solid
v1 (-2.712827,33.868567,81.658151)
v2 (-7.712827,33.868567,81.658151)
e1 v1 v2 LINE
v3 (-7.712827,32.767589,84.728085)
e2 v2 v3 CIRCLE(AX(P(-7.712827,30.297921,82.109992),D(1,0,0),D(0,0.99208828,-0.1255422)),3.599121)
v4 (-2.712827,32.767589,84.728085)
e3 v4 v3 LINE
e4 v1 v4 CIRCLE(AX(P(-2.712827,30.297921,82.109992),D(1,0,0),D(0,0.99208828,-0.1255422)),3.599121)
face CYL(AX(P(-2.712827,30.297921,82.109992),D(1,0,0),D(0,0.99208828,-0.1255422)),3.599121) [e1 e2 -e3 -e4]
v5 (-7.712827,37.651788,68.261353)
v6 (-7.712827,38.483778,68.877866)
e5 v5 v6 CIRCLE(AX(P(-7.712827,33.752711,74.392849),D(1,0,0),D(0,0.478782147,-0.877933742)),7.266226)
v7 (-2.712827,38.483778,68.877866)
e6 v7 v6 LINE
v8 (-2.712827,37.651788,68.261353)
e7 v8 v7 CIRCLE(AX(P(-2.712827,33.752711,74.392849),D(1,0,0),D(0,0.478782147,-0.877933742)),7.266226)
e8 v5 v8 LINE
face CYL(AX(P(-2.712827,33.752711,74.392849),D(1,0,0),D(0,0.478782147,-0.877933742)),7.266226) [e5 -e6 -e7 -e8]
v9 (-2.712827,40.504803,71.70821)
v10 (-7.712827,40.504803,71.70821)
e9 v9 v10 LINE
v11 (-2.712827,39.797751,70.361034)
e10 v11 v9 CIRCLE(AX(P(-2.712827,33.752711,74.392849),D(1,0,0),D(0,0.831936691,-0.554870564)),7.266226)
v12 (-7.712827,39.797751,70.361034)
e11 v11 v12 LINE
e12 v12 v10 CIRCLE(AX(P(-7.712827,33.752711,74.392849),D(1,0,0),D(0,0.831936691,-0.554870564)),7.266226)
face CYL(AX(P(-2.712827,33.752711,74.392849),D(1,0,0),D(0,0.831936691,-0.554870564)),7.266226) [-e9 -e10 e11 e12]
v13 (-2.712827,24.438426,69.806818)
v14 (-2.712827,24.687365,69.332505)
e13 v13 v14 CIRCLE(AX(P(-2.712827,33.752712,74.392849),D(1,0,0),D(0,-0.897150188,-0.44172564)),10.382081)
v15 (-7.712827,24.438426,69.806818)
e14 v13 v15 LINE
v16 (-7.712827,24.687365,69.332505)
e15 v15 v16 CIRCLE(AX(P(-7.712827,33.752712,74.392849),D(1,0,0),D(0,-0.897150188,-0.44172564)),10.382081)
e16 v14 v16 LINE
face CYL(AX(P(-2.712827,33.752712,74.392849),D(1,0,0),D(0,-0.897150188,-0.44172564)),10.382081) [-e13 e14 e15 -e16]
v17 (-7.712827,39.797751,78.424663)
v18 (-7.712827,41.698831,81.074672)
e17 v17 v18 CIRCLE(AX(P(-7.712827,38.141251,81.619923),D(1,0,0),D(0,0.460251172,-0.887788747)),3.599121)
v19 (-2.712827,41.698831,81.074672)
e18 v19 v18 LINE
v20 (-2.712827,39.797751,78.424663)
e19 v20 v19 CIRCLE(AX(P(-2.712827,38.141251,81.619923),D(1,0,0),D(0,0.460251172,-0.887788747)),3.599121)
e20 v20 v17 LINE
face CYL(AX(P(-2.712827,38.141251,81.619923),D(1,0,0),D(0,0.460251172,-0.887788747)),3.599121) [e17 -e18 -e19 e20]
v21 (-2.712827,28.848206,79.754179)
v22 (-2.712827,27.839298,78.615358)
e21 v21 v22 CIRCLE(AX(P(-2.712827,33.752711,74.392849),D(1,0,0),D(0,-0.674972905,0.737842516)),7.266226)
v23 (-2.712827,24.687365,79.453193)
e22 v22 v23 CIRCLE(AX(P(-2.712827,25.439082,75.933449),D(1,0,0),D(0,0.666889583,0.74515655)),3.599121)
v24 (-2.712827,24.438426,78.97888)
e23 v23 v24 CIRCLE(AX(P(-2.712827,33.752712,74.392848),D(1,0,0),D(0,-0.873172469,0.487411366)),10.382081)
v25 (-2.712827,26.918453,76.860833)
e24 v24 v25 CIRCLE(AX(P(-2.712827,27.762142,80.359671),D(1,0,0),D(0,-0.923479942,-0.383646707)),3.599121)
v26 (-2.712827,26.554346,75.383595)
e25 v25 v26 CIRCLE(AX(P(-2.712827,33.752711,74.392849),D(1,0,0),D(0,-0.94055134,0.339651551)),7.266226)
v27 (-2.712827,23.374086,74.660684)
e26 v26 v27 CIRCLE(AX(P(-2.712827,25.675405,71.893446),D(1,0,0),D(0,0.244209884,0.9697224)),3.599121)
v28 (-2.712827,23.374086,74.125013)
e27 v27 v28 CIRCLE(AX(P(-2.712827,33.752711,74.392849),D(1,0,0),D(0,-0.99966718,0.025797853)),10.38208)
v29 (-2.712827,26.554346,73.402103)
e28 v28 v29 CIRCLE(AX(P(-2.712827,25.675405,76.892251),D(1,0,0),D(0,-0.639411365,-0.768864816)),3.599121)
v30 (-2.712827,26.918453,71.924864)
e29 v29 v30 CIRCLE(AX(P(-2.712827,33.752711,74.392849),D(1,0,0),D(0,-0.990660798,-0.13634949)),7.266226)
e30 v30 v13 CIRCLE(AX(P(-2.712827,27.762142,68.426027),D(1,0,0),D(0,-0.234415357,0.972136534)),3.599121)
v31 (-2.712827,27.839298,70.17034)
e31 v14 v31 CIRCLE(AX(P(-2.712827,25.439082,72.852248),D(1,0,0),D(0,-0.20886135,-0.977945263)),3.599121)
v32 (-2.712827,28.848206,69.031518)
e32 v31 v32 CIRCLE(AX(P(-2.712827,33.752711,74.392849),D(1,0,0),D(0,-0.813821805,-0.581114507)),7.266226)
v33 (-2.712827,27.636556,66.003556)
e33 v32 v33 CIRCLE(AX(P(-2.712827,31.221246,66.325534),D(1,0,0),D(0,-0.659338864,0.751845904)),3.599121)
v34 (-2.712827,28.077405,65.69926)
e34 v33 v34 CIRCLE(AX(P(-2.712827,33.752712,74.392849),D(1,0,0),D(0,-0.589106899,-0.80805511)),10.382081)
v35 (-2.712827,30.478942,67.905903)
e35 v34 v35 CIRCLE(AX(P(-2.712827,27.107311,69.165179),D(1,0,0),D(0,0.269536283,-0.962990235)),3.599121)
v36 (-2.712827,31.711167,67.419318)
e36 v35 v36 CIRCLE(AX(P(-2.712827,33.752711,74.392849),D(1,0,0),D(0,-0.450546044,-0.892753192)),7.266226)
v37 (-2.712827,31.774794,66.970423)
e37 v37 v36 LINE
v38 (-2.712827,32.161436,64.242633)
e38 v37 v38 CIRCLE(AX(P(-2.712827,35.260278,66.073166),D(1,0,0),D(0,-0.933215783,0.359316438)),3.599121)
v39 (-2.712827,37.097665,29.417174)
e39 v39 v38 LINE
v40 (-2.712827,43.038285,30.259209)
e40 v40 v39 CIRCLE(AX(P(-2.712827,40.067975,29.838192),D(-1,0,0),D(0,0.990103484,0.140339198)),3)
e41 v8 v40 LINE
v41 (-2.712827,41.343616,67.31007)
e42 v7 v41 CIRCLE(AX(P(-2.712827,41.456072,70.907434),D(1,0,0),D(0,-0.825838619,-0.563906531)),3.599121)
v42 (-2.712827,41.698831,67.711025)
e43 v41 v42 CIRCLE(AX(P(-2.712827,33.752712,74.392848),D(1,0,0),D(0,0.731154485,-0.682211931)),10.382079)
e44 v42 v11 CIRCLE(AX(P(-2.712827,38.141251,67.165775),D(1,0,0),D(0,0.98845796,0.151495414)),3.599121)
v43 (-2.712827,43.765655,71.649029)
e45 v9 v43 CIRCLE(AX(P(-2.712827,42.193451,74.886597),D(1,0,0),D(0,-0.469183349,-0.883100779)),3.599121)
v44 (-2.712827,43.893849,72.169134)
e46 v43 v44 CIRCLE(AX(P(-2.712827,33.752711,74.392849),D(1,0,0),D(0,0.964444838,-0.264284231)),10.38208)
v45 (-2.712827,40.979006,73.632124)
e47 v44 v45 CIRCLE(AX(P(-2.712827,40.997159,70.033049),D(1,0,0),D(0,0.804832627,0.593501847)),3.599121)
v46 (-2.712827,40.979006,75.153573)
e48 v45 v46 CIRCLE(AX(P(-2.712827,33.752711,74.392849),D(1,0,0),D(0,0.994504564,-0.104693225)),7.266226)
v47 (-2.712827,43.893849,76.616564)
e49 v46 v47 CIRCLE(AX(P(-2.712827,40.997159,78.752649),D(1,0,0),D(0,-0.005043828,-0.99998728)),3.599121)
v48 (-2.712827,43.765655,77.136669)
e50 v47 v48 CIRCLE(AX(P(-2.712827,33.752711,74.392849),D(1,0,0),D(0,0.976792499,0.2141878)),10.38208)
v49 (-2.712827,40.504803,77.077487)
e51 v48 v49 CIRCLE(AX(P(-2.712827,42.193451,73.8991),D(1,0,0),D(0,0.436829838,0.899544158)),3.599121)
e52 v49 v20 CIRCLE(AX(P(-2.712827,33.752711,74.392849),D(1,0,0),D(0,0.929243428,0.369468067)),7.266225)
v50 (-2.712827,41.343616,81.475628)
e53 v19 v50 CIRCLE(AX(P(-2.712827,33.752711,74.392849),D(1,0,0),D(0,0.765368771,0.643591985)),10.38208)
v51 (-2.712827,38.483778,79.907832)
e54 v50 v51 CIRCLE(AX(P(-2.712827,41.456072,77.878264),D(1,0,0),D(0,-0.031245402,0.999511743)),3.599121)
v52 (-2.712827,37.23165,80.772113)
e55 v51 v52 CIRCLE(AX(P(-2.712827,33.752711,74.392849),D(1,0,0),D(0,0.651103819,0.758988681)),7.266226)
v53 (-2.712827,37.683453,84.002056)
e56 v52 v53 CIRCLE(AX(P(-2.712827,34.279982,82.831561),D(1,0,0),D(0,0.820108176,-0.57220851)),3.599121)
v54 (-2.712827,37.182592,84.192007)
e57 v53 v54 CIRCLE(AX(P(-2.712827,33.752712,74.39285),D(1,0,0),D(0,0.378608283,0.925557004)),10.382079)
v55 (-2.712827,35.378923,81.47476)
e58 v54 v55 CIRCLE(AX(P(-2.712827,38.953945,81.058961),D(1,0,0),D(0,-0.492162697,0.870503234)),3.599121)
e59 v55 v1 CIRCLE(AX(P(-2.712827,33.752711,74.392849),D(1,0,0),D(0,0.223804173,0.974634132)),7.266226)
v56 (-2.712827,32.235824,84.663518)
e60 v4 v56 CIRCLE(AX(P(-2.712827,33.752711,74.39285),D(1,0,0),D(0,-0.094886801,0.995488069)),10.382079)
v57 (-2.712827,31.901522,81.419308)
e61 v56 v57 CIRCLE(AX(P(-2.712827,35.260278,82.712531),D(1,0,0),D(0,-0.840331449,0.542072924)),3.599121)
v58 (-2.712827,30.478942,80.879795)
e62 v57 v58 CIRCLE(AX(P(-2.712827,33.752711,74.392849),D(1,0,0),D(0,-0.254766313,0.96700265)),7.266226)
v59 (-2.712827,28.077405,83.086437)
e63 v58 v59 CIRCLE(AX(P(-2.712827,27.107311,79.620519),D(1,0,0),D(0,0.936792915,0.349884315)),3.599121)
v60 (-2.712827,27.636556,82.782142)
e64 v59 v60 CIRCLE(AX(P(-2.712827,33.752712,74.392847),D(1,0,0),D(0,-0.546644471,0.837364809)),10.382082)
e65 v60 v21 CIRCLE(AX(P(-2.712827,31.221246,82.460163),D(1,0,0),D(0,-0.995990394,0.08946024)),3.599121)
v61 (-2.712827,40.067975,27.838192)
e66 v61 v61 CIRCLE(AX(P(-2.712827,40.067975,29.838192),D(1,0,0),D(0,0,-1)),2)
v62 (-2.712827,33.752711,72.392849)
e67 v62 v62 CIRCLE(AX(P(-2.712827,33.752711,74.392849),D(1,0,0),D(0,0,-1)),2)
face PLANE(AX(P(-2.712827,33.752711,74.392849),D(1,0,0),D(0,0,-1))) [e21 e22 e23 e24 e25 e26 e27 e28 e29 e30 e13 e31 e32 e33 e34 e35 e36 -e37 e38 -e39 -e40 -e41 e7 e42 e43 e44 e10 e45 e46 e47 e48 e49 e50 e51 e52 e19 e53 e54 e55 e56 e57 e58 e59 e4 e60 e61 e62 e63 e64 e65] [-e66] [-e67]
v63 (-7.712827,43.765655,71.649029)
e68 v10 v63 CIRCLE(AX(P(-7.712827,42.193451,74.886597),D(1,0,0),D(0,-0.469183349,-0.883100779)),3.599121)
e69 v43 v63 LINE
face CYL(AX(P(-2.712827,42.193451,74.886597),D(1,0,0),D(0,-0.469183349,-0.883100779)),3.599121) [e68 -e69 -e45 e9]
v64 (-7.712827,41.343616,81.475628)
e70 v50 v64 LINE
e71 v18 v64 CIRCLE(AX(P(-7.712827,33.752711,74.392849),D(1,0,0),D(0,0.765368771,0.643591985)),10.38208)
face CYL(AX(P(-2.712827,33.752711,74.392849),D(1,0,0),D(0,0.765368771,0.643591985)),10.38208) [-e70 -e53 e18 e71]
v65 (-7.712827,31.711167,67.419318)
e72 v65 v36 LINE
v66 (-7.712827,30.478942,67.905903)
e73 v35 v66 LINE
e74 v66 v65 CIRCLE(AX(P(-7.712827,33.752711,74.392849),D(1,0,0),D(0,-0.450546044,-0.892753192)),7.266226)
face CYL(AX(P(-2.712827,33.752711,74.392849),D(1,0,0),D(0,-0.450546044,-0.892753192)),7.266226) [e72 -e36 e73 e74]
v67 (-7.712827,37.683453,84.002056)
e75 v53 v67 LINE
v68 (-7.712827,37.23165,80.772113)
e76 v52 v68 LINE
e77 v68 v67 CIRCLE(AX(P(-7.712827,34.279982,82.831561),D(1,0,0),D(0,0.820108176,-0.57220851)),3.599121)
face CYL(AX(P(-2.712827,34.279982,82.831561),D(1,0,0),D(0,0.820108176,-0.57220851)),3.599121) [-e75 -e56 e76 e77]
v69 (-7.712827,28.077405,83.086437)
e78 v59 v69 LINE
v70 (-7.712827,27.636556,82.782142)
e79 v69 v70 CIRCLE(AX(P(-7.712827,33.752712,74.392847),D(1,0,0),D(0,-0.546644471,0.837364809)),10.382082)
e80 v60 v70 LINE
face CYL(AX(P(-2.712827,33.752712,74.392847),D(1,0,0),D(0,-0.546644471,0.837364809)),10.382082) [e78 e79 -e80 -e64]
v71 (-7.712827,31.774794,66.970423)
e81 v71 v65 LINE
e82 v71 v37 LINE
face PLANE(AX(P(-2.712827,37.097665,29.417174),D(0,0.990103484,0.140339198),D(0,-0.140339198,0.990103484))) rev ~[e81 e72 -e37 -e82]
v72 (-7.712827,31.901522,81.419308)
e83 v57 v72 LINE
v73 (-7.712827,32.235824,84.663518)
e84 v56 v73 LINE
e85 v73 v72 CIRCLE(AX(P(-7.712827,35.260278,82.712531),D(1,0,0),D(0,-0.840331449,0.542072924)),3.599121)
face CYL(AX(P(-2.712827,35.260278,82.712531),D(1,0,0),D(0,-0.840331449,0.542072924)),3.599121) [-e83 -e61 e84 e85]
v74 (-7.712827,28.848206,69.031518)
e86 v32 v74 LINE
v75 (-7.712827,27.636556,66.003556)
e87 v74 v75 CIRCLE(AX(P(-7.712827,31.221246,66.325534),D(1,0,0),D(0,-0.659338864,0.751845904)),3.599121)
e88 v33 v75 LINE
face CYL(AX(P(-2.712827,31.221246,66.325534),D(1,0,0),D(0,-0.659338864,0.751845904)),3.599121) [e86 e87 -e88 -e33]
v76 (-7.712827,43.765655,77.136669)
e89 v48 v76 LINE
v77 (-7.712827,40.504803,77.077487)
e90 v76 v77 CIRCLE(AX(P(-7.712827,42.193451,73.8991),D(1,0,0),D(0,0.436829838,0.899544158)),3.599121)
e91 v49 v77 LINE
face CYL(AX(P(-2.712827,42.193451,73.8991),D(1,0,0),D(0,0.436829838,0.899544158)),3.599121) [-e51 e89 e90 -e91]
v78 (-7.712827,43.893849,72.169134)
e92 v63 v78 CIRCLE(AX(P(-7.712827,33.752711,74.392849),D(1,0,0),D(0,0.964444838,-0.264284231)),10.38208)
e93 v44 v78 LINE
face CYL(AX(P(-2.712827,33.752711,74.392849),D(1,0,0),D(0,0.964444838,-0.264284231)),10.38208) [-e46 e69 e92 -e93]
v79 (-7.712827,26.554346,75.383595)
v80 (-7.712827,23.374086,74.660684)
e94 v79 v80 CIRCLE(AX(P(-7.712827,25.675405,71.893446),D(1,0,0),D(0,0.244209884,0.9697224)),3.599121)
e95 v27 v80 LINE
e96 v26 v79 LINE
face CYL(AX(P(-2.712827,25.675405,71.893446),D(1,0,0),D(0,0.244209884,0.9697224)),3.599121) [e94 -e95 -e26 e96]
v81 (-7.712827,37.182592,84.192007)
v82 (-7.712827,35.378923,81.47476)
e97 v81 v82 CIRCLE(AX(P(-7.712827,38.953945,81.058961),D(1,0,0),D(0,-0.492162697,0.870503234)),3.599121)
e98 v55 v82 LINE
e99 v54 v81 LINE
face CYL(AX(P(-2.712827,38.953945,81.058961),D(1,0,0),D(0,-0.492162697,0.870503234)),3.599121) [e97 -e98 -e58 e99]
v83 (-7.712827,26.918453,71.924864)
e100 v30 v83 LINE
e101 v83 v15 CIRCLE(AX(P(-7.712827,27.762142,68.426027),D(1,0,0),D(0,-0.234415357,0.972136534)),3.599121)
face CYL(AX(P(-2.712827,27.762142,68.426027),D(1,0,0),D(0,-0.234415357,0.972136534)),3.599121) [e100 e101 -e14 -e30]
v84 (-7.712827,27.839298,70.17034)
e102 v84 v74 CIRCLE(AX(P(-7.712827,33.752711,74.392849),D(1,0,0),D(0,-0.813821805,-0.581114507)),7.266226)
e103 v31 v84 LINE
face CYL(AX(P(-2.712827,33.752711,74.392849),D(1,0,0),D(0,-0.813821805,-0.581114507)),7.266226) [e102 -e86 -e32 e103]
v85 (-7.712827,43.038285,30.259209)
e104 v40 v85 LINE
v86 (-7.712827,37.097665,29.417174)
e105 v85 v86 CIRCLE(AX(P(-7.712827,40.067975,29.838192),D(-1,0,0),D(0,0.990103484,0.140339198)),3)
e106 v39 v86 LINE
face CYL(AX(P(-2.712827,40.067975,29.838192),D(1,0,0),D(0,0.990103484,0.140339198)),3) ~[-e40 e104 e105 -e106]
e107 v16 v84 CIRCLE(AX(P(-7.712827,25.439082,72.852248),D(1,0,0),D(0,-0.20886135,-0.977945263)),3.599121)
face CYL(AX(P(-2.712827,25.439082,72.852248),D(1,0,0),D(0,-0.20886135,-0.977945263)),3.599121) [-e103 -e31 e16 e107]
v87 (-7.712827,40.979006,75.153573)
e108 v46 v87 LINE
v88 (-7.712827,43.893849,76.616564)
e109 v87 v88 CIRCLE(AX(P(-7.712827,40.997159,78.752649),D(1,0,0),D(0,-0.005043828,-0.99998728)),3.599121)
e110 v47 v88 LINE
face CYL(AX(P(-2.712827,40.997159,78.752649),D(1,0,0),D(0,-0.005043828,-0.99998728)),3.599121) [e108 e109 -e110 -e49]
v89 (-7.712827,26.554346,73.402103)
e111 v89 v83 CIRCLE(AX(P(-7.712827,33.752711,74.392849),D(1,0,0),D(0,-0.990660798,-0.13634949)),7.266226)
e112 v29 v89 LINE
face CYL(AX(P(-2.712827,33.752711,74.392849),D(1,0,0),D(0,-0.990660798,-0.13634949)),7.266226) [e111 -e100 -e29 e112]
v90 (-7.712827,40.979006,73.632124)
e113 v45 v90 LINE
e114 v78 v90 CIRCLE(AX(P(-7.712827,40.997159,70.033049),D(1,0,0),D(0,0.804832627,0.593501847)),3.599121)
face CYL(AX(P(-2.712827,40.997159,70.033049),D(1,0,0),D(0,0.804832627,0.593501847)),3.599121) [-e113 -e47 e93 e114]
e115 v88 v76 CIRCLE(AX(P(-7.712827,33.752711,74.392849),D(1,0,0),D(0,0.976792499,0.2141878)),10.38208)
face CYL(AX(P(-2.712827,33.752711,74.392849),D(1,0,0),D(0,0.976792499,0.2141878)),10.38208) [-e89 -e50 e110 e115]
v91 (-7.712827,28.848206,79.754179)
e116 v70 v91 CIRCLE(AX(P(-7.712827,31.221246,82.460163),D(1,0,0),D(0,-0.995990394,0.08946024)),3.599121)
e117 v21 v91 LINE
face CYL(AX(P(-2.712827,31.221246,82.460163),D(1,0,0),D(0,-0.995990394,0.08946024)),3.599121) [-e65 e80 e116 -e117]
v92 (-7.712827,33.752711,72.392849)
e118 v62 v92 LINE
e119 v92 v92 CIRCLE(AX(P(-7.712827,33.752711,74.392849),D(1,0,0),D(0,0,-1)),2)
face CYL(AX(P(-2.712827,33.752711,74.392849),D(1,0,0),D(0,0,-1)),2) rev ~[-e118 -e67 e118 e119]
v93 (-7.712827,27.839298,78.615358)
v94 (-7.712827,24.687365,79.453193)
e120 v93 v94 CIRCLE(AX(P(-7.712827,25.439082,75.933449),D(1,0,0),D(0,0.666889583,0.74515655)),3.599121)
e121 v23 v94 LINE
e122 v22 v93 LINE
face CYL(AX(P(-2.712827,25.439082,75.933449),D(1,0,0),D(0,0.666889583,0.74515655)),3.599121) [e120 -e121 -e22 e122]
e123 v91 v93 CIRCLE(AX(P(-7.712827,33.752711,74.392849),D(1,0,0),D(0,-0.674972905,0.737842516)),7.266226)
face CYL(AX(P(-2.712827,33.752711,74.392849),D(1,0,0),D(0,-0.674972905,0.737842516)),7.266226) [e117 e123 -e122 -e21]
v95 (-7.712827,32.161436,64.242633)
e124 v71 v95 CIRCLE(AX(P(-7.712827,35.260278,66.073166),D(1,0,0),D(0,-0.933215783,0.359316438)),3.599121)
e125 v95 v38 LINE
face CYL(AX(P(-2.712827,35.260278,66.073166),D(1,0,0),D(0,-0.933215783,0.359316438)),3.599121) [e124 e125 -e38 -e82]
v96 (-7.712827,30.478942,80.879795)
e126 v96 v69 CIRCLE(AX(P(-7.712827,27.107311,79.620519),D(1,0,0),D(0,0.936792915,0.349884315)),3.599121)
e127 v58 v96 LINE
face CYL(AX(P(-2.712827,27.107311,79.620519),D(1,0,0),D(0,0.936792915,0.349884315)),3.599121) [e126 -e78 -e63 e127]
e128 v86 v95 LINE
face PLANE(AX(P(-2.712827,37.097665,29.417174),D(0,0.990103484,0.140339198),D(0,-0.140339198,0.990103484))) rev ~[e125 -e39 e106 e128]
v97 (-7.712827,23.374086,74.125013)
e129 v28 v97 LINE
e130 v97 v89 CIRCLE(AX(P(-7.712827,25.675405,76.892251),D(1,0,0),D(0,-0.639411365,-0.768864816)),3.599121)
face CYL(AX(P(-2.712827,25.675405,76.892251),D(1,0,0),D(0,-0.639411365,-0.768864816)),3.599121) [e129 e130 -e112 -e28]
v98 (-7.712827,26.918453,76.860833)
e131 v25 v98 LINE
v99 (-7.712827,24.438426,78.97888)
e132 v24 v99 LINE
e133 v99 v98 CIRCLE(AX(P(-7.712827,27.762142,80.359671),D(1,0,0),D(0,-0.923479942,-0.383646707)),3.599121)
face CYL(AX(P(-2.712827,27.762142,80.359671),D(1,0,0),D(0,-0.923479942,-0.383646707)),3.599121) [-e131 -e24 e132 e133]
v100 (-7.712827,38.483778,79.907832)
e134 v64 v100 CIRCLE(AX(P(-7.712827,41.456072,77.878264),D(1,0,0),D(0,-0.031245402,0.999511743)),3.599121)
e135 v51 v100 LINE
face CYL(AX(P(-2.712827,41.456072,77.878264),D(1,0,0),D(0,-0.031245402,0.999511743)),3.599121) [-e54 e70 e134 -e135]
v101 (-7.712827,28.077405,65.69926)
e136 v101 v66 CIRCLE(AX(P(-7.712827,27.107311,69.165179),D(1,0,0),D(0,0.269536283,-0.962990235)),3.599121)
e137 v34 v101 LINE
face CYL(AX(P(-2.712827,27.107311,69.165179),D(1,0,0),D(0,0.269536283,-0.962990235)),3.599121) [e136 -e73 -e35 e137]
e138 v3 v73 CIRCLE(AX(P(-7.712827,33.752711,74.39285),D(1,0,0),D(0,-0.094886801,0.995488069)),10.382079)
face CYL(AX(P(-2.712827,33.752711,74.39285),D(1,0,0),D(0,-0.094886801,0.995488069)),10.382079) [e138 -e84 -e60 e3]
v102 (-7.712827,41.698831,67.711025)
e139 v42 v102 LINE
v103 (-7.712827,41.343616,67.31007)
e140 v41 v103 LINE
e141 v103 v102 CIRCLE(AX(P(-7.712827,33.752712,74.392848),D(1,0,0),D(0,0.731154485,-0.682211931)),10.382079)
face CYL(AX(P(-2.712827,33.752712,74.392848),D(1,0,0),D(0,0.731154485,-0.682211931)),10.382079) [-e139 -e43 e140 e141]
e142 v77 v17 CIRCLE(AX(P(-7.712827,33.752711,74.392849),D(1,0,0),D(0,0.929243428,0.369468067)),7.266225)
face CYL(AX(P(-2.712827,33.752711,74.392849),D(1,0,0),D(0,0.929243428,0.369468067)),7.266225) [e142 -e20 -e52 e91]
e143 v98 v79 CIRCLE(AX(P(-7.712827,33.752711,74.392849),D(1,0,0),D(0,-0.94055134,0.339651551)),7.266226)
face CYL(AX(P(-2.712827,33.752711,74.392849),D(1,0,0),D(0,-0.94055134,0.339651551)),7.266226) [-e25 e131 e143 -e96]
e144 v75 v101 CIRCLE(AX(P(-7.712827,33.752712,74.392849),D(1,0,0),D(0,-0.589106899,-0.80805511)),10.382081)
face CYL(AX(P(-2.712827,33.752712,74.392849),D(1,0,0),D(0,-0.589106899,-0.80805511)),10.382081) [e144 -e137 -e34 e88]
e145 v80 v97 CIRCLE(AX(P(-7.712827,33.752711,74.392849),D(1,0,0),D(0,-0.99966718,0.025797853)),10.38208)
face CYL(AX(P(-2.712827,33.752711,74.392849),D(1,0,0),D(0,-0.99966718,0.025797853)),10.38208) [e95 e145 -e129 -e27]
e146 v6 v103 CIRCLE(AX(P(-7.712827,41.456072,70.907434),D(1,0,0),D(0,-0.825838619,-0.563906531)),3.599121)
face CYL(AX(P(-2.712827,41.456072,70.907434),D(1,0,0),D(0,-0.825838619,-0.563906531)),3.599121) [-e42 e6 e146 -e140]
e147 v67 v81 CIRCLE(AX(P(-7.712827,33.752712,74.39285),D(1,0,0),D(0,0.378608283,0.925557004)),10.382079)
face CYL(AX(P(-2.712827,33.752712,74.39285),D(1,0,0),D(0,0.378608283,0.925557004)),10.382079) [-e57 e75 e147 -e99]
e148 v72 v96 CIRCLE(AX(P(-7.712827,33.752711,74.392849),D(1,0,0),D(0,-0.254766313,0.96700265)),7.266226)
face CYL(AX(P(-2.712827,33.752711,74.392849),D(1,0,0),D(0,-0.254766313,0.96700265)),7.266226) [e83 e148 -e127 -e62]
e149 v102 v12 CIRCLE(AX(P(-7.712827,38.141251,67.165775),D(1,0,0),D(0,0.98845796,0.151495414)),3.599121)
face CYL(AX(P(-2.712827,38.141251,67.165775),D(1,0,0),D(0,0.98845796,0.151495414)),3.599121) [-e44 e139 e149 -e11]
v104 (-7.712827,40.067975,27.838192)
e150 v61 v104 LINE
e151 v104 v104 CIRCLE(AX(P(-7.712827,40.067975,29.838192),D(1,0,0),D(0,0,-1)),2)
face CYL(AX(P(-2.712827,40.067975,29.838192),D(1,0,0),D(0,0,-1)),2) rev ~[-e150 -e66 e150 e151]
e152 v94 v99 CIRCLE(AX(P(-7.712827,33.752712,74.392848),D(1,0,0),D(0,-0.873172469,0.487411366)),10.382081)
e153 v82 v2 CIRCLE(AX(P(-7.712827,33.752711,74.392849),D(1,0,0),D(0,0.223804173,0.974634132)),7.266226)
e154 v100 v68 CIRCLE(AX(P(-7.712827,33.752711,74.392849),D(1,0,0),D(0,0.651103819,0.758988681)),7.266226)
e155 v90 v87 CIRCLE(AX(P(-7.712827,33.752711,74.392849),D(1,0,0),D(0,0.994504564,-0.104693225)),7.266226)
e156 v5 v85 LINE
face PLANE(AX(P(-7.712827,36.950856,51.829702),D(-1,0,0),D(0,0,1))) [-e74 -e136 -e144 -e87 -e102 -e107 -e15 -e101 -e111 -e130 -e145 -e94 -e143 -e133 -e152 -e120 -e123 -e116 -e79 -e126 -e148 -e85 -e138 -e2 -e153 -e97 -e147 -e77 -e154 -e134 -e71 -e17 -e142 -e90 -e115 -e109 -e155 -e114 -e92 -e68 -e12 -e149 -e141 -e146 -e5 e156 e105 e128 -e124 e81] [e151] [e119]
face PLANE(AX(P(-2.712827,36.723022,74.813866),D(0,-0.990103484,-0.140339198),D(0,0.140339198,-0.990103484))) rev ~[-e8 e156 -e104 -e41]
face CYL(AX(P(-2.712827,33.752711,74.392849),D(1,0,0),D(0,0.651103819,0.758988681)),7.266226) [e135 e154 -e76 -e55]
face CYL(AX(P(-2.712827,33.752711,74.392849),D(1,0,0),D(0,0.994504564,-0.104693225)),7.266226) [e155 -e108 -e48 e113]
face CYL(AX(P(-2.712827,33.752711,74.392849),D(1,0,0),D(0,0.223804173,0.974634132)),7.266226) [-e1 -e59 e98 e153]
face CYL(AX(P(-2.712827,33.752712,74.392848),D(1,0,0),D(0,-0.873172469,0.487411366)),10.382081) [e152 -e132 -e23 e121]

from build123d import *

# Parameters (mm, degrees)
SKETCH1_R           = 2
BOSS_EXTRUDE1_DEPTH = 5
SKETCH2_R           = 2
BOSS_EXTRUDE2_DEPTH = 5


with BuildPart() as part:
    # Sketch1 → Boss-Extrude1 (new body)
    with BuildSketch(Plane(origin=(-2.712826585, 0, 0), x_dir=(0, 0, -1), z_dir=(1, 0, 0))):
        with BuildLine():
            ThreePointArc((-81.47562753, 41.343615563), (-81.034251259, 39.725922602), (-79.907831624, 38.483778355))
            ThreePointArc((-79.907831624, 38.483778355), (-80.372835078, 37.880397724), (-80.772113271, 37.231650221))
            ThreePointArc((-80.772113271, 37.231650221), (-82.332972226, 37.844400456), (-84.002055602, 37.683452608))
            ThreePointArc((-84.002055602, 37.683452608), (-84.100262161, 37.43424746), (-84.192007076, 37.182591734))
            ThreePointArc((-84.192007076, 37.182591734), (-83.049408394, 35.955313535), (-81.474760125, 35.378922733))
            ThreePointArc((-81.474760125, 35.378922733), (-81.606095275, 34.628557837), (-81.65815056, 33.868566623))
            ThreePointArc((-81.65815056, 33.868566623), (-83.324981759, 33.685762686), (-84.728085497, 32.767588723))
            ThreePointArc((-84.728085497, 32.767588723), (-84.69923168, 32.50128966), (-84.663517521, 32.235823593))
            ThreePointArc((-84.663517521, 32.235823593), (-83.081452015, 31.6801148), (-81.419308055, 31.901521629))
            ThreePointArc((-81.419308055, 31.901521629), (-81.1868876, 31.176072024), (-80.879794738, 30.478941927))
            ThreePointArc((-80.879794738, 30.478941927), (-82.270747242, 29.542461997), (-83.086437186, 28.077404509))
            ThreePointArc((-83.086437186, 28.077404509), (-82.937133053, 27.855017437), (-82.782141503, 27.636556105))
            ThreePointArc((-82.782141503, 27.636556105), (-81.123041315, 27.879722907), (-79.754178815, 28.848205731))
            ThreePointArc((-79.754178815, 28.848205731), (-79.211247481, 28.313863177), (-78.615357745, 27.839298301))
            ThreePointArc((-78.615357745, 27.839298301), (-79.411781098, 26.363678645), (-79.45319251, 24.687364646))
            ThreePointArc((-79.45319251, 24.687364646), (-79.217641841, 24.559835763), (-78.978879596, 24.438426025))
            ThreePointArc((-78.978879596, 24.438426025), (-77.622824585, 25.424761837), (-76.860833445, 26.918452913))
            ThreePointArc((-76.860833445, 26.918452913), (-76.131770258, 26.697628851), (-75.383594806, 26.55434629))
            ThreePointArc((-75.383594806, 26.55434629), (-75.403038015, 24.877633587), (-74.660684041, 23.374086413))
            ThreePointArc((-74.660684041, 23.374086413), (-74.392848655, 23.370631049), (-74.125013268, 23.374086413))
            ThreePointArc((-74.125013268, 23.374086413), (-73.382659294, 24.877633587), (-73.402102503, 26.55434629))
            ThreePointArc((-73.402102503, 26.55434629), (-72.653927052, 26.697628851), (-71.924863864, 26.918452913))
            ThreePointArc((-71.924863864, 26.918452913), (-71.162872724, 25.424761837), (-69.806817713, 24.438426025))
            ThreePointArc((-69.806817713, 24.438426025), (-69.568055468, 24.559835763), (-69.332504799, 24.687364646))
            ThreePointArc((-69.332504799, 24.687364646), (-69.373916212, 26.363678645), (-70.170339564, 27.839298301))
            ThreePointArc((-70.170339564, 27.839298301), (-69.574449829, 28.313863177), (-69.031518494, 28.848205731))
            ThreePointArc((-69.031518494, 28.848205731), (-67.662655994, 27.879722907), (-66.003555806, 27.636556105))
            ThreePointArc((-66.003555806, 27.636556105), (-65.848564256, 27.855017437), (-65.699260124, 28.077404509))
            ThreePointArc((-65.699260124, 28.077404509), (-66.514950067, 29.542461997), (-67.905902571, 30.478941927))
            ThreePointArc((-67.905902571, 30.478941927), (-67.598809709, 31.176072024), (-67.366389254, 31.901521629))
            ThreePointArc((-67.366389254, 31.901521629), (-65.704245294, 31.6801148), (-64.122179788, 32.235823593))
            ThreePointArc((-64.122179788, 32.235823593), (-64.086465629, 32.50128966), (-64.057611812, 32.767588723))
            ThreePointArc((-64.057611812, 32.767588723), (-65.46071555, 33.685762686), (-67.12754675, 33.868566623))
            ThreePointArc((-67.12754675, 33.868566623), (-67.179602034, 34.628557837), (-67.310937184, 35.378922733))
            ThreePointArc((-67.310937184, 35.378922733), (-65.736288915, 35.955313535), (-64.593690233, 37.182591734))
            ThreePointArc((-64.593690233, 37.182591734), (-64.685435149, 37.43424746), (-64.783641707, 37.683452608))
            ThreePointArc((-64.783641707, 37.683452608), (-66.452725084, 37.844400456), (-68.013584038, 37.231650221))
            ThreePointArc((-68.013584038, 37.231650221), (-68.412862231, 37.880397724), (-68.877865686, 38.483778355))
            ThreePointArc((-68.877865686, 38.483778355), (-67.75144605, 39.725922602), (-67.31006978, 41.343615563))
            ThreePointArc((-67.31006978, 41.343615563), (-67.508256115, 41.523809654), (-67.711025111, 41.69883099))
            ThreePointArc((-67.711025111, 41.69883099), (-69.263721238, 41.065681511), (-70.361033972, 39.797750798))
            ThreePointArc((-70.361033972, 39.797750798), (-71.016065252, 40.186634356), (-71.708210323, 40.504803491))
            ThreePointArc((-71.708210323, 40.504803491), (-71.288068484, 42.128140906), (-71.64902861, 43.765654666))
            ThreePointArc((-71.64902861, 43.765654666), (-71.908254264, 43.833106827), (-72.169133764, 43.893849073))
            ThreePointArc((-72.169133764, 43.893849073), (-73.249738671, 42.611649181), (-73.632124061, 40.979005638))
            ThreePointArc((-73.632124061, 40.979005638), (-74.392848655, 41.018936713), (-75.153573248, 40.979005638))
            ThreePointArc((-75.153573248, 40.979005638), (-75.535958638, 42.611649181), (-76.616563545, 43.893849073))
            ThreePointArc((-76.616563545, 43.893849073), (-76.877443045, 43.833106827), (-77.1366687, 43.765654666))
            ThreePointArc((-77.1366687, 43.765654666), (-77.497628825, 42.128140906), (-77.077486986, 40.504803491))
            ThreePointArc((-77.077486986, 40.504803491), (-77.769632058, 40.186634356), (-78.424663337, 39.797750798))
            ThreePointArc((-78.424663337, 39.797750798), (-79.521976071, 41.065681511), (-81.074672198, 41.69883099))
            ThreePointArc((-81.074672198, 41.69883099), (-81.277441194, 41.523809654), (-81.47562753, 41.343615563))
        make_face()
        with Locations((-74.392848655, 33.752711127)):
            Circle(SKETCH1_R, mode=Mode.SUBTRACT)
    extrude(amount=-BOSS_EXTRUDE1_DEPTH)

    # Sketch2 → Boss-Extrude2 (add)
    with BuildSketch(Plane(origin=(-2.712826585, 0, 0), x_dir=(0, 0, -1), z_dir=(1, 0, 0))):
        with BuildLine():
            Line((-74.813866248, 36.72302158), (-30.259209457, 43.038285487))
            ThreePointArc((-30.259209457, 43.038285487), (-26.867881411, 40.488992628), (-29.41717427, 37.097664581))
            Line((-29.41717427, 37.097664581), (-73.971831061, 30.782400674))
            ThreePointArc((-73.971831061, 30.782400674), (-71.422538202, 34.173728721), (-74.813866248, 36.72302158))
        make_face()
        with Locations((-29.838191863, 40.067975034)):
            Circle(SKETCH2_R, mode=Mode.SUBTRACT)
    extrude(amount=-BOSS_EXTRUDE2_DEPTH)


solid = part.part
